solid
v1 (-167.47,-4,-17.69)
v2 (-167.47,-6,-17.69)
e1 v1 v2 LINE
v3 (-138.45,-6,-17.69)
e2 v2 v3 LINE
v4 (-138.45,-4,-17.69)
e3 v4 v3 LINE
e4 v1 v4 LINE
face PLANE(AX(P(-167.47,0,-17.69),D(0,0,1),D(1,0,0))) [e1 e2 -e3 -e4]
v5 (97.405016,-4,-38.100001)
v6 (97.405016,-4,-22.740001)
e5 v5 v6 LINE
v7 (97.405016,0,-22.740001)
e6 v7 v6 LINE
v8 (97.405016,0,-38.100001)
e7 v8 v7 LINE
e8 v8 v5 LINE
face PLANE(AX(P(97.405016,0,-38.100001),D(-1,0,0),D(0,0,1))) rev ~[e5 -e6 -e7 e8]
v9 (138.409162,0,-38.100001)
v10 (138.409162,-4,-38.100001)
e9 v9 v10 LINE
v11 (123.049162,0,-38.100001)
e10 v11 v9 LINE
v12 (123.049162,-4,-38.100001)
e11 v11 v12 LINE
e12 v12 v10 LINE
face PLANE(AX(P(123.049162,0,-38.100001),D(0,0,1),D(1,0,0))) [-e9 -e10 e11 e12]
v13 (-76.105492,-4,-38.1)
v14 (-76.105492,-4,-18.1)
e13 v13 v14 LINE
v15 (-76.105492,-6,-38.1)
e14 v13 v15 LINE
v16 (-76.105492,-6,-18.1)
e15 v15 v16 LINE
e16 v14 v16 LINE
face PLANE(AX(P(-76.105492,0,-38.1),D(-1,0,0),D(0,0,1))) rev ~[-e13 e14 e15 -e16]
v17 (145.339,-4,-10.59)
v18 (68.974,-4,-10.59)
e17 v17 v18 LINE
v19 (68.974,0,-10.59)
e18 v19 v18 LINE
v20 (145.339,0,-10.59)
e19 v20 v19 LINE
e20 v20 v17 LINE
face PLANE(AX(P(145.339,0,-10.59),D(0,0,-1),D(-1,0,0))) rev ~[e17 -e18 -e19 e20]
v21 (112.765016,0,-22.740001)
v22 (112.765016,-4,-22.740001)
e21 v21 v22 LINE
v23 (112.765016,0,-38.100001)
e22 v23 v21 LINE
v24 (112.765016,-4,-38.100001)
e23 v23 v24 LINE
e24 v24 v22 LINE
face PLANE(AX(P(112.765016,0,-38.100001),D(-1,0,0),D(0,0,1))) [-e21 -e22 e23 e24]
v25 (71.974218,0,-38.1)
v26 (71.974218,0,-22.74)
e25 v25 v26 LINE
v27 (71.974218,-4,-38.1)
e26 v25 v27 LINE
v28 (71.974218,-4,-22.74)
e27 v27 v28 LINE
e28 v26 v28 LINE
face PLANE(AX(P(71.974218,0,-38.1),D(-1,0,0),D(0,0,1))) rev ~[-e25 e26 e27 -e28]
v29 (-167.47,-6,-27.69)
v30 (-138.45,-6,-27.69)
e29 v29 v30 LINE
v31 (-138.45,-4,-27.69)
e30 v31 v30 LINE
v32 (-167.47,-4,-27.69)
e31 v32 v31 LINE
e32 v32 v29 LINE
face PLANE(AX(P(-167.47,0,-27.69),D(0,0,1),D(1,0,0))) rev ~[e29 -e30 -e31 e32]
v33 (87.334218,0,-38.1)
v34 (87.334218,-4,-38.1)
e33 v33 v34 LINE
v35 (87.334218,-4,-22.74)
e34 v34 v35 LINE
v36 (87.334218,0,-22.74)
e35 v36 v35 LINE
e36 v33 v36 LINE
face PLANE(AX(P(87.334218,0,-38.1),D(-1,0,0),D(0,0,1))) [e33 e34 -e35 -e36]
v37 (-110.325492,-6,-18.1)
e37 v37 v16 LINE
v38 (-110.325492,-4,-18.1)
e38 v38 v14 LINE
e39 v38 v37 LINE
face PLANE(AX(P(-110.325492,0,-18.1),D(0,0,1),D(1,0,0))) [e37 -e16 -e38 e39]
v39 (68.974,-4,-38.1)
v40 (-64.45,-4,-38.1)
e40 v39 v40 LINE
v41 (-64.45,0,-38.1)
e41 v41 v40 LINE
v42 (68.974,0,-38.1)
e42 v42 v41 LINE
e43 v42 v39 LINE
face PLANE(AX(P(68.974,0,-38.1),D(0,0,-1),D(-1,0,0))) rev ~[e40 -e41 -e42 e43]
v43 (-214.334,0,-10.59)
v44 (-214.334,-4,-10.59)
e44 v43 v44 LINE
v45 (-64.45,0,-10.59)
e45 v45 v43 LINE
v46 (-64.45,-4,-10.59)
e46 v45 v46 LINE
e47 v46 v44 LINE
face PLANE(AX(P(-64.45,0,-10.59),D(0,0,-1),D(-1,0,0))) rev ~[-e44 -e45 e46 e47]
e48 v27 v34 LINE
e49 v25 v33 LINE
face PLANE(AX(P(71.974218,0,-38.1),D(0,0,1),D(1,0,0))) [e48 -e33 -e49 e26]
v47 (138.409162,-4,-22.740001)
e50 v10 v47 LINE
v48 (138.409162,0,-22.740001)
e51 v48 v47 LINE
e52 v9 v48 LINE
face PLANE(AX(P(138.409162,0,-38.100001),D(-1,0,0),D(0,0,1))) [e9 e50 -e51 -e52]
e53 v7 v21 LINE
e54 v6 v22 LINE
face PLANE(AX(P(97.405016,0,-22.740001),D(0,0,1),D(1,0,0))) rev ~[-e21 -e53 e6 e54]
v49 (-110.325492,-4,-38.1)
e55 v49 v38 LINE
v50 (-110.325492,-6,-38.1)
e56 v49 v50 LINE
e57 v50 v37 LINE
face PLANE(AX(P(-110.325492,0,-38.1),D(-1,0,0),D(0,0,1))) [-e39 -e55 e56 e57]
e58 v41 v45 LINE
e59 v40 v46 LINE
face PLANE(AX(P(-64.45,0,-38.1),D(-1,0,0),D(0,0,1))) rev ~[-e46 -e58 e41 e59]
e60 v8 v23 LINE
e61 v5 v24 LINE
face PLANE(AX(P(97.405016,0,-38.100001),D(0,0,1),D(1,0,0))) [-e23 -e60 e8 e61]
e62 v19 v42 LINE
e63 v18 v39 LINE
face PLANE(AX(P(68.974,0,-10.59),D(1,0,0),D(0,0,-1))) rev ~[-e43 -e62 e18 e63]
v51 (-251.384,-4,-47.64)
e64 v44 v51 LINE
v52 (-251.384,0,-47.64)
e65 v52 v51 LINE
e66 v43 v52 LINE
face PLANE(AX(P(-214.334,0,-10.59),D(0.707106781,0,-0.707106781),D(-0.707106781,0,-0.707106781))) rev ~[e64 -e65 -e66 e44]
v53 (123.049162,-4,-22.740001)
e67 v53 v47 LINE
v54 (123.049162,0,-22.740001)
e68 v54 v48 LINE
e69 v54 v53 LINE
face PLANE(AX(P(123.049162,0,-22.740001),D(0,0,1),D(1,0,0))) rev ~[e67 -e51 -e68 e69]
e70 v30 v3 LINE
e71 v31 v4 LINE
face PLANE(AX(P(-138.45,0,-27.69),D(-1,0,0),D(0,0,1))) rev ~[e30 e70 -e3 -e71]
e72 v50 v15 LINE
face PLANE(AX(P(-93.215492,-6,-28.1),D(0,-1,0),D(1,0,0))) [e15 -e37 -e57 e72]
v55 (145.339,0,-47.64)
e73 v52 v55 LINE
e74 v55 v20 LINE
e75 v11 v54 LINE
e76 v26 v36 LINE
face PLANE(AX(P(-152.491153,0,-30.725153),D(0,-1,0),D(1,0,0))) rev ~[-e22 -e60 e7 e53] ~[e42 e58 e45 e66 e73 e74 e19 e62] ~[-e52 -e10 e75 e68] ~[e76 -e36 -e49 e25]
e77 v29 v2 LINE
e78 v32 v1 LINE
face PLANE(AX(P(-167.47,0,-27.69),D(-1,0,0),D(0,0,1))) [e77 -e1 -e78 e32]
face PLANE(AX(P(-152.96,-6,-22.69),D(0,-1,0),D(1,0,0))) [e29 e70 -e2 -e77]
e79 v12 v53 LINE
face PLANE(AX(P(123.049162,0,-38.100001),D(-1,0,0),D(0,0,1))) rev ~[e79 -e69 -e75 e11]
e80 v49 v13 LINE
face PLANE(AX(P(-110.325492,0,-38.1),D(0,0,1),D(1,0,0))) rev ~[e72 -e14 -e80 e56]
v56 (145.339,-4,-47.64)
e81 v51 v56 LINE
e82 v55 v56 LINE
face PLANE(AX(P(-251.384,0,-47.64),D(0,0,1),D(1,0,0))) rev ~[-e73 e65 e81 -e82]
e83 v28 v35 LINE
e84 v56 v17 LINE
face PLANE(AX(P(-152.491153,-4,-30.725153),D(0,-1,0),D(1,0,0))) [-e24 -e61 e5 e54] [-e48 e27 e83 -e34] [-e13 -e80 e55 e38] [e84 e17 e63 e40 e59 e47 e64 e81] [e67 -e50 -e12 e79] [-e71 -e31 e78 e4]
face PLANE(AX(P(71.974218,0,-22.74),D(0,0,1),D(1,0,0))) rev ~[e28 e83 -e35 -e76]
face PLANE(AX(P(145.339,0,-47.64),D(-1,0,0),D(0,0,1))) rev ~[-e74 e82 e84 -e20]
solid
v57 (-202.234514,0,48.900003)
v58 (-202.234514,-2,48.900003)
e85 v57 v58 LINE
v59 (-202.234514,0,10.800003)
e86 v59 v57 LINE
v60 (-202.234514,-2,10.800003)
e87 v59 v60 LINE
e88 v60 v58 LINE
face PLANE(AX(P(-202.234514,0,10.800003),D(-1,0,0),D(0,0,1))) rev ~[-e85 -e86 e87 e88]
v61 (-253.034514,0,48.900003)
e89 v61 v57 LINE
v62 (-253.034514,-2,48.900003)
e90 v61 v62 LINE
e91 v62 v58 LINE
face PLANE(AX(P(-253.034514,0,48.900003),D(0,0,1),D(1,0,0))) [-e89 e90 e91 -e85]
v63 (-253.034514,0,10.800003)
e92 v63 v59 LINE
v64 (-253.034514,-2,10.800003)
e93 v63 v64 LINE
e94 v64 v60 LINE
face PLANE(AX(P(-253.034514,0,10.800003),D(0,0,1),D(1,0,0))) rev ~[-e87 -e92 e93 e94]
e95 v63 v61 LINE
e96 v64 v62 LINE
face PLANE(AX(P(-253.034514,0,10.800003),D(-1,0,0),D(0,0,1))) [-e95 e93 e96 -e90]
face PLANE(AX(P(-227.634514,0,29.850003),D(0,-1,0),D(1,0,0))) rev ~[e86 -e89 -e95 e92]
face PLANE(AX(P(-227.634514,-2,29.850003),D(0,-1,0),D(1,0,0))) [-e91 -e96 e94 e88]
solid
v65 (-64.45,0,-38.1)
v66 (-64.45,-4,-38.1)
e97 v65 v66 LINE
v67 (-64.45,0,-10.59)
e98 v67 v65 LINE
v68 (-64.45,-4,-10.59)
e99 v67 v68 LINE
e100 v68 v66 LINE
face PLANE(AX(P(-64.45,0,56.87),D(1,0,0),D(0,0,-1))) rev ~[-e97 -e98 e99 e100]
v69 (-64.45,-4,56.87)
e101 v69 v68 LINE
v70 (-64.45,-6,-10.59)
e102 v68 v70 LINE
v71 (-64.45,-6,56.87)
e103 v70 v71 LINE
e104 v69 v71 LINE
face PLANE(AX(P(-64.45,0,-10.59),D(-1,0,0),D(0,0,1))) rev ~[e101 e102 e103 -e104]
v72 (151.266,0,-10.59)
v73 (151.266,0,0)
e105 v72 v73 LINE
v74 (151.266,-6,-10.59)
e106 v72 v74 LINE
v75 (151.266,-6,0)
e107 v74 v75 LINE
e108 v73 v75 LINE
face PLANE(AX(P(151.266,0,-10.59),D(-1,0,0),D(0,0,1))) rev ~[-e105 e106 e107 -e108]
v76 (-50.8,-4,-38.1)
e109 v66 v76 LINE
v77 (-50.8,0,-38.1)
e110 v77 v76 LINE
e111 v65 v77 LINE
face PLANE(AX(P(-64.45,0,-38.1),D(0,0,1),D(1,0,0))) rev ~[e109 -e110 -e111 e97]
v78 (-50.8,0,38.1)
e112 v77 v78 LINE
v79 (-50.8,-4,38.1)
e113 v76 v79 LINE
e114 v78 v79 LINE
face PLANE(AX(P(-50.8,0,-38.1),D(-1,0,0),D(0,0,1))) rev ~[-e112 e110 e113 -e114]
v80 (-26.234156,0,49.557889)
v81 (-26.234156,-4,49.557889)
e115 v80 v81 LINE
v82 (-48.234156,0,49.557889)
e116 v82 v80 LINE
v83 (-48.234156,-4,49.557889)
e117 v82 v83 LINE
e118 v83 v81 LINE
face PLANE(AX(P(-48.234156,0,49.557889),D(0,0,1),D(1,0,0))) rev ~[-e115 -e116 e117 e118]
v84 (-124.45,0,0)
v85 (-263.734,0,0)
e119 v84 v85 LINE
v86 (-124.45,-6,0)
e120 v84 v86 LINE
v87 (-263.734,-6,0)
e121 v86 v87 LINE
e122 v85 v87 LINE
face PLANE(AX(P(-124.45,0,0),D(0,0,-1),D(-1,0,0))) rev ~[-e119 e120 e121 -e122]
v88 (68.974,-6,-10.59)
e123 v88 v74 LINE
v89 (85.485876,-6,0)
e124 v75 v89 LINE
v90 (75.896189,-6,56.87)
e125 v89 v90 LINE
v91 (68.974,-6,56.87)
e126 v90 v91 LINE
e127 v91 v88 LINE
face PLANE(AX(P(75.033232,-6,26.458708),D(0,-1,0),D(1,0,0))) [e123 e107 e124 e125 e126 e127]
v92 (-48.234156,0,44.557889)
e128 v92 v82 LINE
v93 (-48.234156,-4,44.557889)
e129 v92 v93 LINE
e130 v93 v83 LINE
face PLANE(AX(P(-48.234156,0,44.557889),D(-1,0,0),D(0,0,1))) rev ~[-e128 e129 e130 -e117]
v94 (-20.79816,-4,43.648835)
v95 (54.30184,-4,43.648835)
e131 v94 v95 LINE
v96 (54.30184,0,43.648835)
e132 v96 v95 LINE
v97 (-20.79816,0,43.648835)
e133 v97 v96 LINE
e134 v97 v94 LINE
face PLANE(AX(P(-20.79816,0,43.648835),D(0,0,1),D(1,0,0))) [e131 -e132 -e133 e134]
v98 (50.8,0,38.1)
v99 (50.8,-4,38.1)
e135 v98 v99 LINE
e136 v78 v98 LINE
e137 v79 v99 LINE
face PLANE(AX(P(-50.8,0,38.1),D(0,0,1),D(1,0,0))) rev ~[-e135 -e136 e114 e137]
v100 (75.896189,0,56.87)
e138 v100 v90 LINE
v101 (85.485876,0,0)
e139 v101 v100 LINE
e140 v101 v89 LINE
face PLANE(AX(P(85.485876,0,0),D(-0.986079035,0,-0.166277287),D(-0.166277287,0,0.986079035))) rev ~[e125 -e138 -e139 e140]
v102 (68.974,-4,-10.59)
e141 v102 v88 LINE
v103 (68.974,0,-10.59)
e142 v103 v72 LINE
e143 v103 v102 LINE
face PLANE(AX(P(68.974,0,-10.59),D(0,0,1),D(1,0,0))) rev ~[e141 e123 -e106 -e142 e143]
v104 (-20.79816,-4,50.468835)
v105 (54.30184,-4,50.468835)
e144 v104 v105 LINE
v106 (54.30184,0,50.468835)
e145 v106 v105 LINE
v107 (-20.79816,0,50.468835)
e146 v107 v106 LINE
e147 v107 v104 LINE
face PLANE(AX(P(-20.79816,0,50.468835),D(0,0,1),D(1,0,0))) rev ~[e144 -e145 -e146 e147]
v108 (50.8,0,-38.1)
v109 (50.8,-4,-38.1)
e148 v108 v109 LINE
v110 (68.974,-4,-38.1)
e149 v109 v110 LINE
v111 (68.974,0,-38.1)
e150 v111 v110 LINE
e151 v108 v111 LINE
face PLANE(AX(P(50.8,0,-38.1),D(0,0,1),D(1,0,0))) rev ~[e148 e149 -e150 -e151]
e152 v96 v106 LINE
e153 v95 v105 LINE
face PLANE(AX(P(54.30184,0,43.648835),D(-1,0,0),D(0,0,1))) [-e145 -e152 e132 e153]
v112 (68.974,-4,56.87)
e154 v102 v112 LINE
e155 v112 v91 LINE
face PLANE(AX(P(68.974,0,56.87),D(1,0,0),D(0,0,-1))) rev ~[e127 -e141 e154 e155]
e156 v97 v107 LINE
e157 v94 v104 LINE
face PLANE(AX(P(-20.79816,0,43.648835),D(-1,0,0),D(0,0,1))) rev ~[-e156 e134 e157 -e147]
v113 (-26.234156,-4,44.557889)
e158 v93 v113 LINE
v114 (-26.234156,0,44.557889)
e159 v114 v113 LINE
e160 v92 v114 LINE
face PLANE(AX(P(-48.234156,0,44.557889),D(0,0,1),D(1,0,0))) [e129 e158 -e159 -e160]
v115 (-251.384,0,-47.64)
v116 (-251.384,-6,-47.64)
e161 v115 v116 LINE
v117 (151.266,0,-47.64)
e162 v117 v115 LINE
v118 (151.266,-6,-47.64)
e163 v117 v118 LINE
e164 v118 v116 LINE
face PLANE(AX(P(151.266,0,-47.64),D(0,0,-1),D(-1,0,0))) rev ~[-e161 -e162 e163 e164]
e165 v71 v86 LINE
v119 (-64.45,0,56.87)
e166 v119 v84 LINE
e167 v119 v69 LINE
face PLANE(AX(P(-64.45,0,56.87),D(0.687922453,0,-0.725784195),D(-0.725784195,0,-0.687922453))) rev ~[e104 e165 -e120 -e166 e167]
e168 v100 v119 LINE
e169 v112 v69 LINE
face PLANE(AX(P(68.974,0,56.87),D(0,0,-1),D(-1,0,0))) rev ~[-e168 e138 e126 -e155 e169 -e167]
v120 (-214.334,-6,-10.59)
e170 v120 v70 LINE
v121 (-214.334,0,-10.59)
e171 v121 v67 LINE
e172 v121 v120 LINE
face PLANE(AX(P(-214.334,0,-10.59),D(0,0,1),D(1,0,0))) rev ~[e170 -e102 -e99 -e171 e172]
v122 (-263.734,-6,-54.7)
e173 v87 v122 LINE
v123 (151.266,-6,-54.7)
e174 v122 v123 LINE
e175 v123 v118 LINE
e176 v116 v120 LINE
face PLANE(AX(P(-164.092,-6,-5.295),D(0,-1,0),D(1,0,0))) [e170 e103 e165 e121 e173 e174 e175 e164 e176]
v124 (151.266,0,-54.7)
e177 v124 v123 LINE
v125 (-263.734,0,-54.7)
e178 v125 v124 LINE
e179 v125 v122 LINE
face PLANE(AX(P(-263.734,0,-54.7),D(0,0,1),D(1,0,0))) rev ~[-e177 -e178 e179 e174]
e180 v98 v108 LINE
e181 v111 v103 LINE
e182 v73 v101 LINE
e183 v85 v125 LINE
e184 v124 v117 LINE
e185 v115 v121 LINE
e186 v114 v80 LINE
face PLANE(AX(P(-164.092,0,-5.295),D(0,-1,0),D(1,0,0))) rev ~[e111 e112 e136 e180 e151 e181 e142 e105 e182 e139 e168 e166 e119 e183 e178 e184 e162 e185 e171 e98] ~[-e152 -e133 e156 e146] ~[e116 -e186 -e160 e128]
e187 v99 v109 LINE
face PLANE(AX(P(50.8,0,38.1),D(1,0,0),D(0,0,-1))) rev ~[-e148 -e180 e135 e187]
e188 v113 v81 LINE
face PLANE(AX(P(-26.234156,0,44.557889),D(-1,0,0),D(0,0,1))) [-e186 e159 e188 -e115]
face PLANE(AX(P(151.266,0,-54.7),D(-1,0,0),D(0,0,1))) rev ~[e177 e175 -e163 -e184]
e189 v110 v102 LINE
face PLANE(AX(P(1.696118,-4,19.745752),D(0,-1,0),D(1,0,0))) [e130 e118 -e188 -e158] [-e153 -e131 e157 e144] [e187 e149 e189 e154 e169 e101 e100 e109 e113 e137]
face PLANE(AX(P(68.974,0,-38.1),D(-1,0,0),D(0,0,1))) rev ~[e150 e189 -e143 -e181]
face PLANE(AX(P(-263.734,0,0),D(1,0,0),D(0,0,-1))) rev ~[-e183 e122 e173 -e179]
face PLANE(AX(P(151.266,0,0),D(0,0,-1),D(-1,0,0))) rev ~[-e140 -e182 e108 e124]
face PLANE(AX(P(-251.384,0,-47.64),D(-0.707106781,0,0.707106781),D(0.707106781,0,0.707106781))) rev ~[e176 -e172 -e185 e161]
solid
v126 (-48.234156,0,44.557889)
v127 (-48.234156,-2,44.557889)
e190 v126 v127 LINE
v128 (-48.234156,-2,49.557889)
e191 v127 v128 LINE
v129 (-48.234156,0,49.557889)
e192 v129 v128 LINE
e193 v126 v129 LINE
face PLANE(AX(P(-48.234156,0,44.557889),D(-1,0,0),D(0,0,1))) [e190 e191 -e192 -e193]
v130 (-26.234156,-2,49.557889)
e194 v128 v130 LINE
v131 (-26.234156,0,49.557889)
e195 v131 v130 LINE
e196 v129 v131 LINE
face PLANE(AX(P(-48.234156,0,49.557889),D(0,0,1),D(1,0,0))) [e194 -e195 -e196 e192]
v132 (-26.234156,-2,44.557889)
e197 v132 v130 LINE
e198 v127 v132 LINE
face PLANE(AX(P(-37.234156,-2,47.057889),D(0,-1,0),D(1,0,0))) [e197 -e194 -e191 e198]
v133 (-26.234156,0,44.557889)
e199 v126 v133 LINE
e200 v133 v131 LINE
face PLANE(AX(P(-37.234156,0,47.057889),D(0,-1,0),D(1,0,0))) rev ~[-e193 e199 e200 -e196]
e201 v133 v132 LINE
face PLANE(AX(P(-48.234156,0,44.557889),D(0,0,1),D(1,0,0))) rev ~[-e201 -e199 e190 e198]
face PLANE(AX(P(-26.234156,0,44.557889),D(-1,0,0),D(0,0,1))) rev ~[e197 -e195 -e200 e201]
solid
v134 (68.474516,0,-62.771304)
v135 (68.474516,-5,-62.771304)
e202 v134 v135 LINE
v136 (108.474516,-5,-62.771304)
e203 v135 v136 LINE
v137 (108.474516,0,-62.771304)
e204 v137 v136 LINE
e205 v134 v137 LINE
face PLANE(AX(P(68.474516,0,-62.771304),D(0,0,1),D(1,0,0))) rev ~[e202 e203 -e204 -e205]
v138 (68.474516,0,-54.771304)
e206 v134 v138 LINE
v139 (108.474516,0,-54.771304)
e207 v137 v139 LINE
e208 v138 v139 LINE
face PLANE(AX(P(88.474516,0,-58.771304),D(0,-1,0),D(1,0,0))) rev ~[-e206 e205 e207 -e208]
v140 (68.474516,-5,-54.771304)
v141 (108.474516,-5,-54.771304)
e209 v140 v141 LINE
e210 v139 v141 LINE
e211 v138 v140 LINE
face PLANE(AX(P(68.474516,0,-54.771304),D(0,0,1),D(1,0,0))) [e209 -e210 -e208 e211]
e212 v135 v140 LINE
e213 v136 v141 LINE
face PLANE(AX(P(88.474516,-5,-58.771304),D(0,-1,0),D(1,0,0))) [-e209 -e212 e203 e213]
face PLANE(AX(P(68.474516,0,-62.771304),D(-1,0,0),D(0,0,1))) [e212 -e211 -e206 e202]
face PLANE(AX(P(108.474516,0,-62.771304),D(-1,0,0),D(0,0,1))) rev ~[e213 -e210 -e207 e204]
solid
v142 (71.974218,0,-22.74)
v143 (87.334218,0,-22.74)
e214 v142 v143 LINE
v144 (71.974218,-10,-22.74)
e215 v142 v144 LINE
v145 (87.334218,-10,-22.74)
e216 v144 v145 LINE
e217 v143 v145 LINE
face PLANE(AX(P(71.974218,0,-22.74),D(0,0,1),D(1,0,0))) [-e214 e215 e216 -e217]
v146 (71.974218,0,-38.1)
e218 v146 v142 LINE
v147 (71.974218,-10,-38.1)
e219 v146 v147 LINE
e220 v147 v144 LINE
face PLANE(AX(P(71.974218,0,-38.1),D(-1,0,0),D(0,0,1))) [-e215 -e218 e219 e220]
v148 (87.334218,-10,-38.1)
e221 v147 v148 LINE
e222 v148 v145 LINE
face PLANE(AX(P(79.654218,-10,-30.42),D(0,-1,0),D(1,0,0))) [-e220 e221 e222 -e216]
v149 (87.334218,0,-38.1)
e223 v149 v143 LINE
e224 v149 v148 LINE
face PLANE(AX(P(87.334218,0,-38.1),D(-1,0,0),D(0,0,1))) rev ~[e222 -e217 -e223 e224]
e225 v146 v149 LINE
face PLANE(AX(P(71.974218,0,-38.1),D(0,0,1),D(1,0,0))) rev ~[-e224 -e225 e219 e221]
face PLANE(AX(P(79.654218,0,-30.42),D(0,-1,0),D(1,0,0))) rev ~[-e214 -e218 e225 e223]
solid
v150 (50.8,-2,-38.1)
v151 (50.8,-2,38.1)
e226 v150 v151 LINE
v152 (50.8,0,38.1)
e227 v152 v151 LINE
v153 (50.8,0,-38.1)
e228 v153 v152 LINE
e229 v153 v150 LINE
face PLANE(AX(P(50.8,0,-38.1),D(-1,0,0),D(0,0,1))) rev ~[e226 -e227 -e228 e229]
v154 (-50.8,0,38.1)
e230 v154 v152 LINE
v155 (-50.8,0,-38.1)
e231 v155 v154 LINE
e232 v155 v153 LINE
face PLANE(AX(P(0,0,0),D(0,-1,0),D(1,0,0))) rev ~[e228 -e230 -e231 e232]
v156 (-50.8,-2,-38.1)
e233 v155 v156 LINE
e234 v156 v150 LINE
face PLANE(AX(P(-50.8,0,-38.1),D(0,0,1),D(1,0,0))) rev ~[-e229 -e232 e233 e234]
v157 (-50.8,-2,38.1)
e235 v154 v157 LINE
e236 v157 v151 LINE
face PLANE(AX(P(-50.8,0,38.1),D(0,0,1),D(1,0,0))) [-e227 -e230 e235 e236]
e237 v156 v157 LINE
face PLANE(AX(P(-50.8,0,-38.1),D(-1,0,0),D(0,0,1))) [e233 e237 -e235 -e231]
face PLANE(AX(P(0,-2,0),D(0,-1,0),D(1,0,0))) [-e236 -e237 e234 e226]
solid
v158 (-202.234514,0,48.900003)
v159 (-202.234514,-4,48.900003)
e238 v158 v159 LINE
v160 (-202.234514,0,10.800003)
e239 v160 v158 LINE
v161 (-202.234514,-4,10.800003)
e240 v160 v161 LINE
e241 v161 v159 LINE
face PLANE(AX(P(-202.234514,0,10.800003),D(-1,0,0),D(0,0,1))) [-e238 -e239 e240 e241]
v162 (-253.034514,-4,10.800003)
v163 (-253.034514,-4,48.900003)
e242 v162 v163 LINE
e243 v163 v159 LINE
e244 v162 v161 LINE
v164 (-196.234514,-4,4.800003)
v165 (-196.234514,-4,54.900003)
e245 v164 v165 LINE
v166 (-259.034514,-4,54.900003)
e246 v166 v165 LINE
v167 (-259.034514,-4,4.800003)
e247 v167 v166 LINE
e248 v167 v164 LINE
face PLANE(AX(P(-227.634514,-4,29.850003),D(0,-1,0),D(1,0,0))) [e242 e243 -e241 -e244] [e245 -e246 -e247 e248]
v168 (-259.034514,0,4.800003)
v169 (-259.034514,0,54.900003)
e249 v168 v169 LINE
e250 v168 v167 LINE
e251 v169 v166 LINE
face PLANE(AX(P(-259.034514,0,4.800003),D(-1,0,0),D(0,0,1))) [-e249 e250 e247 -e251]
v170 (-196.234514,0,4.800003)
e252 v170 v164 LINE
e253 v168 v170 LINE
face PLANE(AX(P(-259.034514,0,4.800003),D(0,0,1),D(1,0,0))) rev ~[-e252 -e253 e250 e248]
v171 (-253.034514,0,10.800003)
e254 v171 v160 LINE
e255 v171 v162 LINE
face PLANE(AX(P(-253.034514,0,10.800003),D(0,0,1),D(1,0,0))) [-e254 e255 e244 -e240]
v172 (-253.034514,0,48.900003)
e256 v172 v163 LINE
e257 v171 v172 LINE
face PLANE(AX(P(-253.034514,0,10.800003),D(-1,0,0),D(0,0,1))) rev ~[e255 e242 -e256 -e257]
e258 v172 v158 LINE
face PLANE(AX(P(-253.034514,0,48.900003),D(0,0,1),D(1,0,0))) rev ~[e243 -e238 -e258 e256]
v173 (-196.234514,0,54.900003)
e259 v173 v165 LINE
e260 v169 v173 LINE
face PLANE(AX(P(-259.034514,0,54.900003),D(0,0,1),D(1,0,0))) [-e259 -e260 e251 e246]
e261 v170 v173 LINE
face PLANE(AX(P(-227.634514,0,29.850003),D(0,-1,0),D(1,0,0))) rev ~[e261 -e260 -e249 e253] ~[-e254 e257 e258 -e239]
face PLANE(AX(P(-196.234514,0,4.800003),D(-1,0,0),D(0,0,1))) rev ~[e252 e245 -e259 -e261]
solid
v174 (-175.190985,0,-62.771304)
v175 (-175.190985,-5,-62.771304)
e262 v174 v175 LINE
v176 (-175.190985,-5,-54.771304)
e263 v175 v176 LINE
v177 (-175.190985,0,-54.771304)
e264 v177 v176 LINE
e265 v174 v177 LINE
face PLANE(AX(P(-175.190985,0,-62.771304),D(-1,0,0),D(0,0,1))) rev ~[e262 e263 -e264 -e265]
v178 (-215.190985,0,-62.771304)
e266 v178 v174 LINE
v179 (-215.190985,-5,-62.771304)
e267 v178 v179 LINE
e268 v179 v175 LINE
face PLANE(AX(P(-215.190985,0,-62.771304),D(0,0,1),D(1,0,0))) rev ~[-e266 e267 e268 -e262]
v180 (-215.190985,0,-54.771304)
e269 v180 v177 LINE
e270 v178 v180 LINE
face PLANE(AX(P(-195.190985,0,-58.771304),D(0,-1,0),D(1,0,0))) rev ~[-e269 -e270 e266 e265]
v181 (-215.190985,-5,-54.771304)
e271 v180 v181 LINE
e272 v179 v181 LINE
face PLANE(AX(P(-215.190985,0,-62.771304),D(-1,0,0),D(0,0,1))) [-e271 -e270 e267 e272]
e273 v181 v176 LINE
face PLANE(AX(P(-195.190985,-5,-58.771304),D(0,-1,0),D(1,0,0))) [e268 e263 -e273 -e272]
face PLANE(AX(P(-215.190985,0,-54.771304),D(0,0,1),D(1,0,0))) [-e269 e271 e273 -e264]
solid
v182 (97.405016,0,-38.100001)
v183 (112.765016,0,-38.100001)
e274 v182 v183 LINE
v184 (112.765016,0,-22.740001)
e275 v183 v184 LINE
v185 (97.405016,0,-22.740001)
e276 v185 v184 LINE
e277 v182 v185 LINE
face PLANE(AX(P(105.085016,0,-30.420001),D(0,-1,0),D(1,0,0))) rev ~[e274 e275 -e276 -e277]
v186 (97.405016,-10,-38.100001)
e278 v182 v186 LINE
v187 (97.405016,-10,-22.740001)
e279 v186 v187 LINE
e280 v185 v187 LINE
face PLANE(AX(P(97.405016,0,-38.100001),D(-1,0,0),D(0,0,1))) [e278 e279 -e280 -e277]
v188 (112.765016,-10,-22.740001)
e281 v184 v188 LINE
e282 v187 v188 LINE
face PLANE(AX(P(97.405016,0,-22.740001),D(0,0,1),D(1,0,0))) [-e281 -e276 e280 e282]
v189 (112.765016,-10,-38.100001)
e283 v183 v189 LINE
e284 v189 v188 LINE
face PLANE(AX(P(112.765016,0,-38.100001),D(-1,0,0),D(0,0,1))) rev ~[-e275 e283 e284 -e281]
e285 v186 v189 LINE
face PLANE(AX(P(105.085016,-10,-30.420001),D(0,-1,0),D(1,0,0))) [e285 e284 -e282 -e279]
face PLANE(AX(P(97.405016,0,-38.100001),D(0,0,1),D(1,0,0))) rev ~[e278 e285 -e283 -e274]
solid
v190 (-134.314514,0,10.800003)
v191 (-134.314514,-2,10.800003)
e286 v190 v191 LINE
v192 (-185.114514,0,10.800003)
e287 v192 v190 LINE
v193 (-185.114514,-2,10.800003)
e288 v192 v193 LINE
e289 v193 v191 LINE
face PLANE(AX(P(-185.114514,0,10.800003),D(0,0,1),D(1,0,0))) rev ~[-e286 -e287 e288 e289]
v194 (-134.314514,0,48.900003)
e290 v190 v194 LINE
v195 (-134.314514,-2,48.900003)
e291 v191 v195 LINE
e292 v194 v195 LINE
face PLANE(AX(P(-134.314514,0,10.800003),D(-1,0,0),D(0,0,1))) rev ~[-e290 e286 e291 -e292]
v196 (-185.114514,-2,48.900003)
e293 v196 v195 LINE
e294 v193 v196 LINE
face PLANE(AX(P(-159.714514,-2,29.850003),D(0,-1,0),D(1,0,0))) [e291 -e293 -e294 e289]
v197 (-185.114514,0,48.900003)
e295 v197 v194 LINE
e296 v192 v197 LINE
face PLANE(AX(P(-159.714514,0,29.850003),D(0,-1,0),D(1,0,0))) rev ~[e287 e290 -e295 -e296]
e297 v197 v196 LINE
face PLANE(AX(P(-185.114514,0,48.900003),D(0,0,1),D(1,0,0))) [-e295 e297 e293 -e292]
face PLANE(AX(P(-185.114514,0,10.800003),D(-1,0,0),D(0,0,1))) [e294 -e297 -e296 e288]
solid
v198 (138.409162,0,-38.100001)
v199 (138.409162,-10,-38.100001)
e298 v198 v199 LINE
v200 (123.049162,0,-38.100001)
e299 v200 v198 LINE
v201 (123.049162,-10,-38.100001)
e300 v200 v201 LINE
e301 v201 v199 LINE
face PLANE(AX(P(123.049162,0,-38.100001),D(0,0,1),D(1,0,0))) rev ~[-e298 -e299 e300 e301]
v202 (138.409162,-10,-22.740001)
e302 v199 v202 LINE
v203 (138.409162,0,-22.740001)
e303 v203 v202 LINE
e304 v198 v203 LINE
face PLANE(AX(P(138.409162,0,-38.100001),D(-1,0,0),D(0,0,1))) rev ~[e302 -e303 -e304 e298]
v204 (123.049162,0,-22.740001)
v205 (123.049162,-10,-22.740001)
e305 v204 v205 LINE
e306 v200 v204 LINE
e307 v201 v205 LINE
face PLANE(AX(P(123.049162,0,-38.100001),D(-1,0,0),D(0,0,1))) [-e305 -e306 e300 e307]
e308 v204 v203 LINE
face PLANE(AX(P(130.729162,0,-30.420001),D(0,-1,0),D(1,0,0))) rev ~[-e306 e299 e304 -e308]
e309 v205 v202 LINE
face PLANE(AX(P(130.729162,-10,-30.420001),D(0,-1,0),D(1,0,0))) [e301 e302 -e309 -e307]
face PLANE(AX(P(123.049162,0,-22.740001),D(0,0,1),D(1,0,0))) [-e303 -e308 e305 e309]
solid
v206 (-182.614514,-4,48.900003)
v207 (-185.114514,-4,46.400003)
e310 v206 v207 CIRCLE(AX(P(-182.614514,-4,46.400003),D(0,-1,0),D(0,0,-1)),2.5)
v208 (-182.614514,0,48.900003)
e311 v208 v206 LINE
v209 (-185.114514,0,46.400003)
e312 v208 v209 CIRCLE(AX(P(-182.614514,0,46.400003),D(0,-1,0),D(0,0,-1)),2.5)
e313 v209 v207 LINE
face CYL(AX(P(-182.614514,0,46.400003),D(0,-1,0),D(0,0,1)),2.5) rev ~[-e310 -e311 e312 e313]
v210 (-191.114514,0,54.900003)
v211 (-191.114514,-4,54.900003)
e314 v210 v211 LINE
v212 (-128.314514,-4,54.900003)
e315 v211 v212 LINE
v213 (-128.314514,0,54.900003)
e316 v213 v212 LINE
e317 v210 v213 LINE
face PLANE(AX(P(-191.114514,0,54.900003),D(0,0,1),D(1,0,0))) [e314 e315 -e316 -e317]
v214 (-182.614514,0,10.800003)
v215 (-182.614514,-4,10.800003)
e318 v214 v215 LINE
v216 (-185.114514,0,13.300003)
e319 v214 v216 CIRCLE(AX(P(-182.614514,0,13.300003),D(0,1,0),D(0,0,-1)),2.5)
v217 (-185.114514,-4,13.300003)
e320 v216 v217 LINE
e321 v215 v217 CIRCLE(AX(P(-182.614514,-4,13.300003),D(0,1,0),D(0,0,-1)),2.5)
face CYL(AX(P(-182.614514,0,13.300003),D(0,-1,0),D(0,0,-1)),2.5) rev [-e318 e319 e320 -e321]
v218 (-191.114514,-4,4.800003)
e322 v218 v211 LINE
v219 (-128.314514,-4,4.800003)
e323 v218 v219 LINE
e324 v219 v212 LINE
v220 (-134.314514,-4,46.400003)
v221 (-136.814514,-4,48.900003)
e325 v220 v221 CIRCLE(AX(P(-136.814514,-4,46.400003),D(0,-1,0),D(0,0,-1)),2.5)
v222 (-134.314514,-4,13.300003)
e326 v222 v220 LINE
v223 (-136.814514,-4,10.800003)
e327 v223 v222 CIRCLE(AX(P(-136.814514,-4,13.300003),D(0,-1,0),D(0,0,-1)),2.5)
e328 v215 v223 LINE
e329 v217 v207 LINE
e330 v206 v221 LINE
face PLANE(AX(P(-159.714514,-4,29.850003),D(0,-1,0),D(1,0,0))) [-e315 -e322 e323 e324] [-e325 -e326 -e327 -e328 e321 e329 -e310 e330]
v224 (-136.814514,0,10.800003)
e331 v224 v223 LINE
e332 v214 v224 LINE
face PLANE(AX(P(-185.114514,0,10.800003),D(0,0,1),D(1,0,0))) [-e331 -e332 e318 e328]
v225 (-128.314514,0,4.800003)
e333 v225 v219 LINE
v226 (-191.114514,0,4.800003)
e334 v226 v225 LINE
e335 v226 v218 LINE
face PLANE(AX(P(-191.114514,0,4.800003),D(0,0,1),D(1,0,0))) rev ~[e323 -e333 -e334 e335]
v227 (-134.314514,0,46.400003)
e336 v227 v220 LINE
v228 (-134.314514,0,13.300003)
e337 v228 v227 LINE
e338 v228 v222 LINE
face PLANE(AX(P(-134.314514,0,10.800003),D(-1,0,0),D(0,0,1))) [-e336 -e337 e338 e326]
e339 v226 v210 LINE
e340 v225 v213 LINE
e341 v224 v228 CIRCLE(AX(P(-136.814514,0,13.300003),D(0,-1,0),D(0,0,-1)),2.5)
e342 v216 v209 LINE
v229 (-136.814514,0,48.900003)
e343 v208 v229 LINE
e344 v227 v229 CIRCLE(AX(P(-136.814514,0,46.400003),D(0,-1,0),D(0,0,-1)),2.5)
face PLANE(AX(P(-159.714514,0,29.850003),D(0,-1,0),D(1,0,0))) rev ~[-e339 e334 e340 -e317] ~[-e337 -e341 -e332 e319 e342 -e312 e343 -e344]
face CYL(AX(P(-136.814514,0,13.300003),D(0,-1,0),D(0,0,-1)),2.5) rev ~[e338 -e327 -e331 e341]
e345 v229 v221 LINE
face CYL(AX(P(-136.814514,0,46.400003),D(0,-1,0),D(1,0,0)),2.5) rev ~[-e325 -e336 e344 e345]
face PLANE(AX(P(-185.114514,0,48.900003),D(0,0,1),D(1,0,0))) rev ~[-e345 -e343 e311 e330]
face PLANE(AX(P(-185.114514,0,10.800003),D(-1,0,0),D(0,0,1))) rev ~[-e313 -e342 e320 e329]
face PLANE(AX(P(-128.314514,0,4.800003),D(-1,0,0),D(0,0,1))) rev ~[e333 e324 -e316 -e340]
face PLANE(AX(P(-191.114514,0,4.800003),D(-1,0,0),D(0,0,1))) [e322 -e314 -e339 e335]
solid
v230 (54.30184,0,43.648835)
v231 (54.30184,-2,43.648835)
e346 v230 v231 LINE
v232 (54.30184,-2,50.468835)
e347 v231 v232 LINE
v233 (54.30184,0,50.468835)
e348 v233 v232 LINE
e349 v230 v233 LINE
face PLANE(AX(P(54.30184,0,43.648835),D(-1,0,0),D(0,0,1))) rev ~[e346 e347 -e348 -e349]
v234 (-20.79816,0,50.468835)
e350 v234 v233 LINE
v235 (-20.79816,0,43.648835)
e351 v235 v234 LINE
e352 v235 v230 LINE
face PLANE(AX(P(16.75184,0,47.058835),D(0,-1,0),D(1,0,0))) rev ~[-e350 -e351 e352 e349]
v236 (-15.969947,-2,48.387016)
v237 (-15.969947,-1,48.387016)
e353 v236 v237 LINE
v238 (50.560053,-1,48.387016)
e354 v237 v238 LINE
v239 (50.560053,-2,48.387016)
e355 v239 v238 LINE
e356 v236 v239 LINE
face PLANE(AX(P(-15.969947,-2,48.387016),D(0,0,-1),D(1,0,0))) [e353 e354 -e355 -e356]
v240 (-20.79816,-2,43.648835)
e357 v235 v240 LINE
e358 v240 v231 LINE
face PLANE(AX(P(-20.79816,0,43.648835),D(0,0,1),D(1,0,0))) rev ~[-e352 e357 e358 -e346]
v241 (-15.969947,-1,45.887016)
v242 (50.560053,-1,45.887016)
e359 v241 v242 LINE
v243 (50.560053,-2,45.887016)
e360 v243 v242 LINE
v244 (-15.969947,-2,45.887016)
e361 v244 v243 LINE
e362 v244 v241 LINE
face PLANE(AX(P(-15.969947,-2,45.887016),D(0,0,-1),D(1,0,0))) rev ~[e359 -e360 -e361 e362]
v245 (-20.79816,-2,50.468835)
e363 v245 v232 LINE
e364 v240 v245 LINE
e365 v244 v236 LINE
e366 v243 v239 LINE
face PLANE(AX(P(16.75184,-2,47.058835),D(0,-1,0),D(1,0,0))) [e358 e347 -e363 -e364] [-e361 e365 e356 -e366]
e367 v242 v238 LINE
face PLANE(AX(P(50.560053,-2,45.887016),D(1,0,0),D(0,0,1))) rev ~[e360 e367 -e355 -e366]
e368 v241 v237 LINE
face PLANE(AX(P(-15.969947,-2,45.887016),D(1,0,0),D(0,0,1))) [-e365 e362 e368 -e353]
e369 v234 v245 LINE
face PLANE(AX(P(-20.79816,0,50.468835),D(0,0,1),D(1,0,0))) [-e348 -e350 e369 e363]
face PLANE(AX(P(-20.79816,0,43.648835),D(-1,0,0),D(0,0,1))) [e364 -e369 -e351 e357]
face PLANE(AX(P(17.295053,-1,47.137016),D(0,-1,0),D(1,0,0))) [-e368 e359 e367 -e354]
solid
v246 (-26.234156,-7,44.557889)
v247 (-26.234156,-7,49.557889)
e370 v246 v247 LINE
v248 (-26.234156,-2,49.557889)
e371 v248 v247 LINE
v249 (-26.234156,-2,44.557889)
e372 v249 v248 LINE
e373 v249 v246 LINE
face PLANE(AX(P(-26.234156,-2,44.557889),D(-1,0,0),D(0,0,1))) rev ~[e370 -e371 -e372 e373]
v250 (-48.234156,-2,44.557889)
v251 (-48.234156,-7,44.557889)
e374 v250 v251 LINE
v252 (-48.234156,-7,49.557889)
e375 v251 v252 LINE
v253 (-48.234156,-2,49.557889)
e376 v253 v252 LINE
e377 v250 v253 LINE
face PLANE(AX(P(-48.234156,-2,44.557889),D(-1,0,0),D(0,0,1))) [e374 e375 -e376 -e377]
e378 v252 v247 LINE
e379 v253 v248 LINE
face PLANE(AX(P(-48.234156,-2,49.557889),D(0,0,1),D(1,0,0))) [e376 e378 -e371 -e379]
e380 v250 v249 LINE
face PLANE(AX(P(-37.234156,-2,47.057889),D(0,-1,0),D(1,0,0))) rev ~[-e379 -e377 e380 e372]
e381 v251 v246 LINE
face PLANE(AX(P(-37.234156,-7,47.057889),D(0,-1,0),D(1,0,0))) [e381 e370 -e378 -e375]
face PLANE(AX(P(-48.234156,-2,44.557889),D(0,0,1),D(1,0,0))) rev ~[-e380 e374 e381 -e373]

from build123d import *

# Parameters (mm, degrees)
F0_W      = 15.36
F0_H      = 15.36
F1_DEPTH  = 10
F0_W_2    = 50.8
F0_H_2    = 38.1
F0_W_3    = 101.6
F0_H_3    = 76.2
F0_W_4    = 75.1
F0_H_4    = 6.82
F0_W_5    = 22
F0_H_5    = 5
F2_DEPTH  = 2
F3_W      = 66.53
F3_H      = 2.5
F4_DEPTH  = 1
F5_DEPTH  = 4
F6_DEPTH  = 5
F0_W_6    = 62.8
F0_H_6    = 50.1
F7_DEPTH  = 4
F8_R      = 2.5
F9_DEPTH  = 6
F0_W_7    = 34.22
F0_H_7    = 20
F0_W_8    = 29.02
F0_H_8    = 10
F10_DEPTH = 4
F11_DEPTH = 6
F12_W     = 40
F12_H     = 8
F13_DEPTH = 5


with BuildPart() as f1:
    # F0 (on Front) → F1 (new body)
    with BuildSketch(Plane.XZ):
        with Locations((130.7291623282, -30.4200009418)):
            Rectangle(F0_W, F0_H)
        with Locations((105.0850164223, -30.4200009418)):
            Rectangle(F0_W, F0_H)
        with Locations((79.6542178917, -30.4200004709)):
            Rectangle(F0_W, F0_H)
    extrude(amount=F1_DEPTH)


with BuildPart() as f2:
    # F0 (on Front) → F2 (new body)
    with BuildSketch(Plane.XZ):
        with Locations((-227.6345144272, 29.8500025563)):
            Rectangle(F0_W_2, F0_H_2)
        with Locations((-159.7145144272, 29.8500025563)):
            Rectangle(F0_W_2, F0_H_2)
        Rectangle(F0_W_3, F0_H_3)
        with Locations((16.7518402368, 47.0588352716)):
            Rectangle(F0_W_4, F0_H_4)
        with Locations((-37.2341555208, 47.0578887403)):
            Rectangle(F0_W_5, F0_H_5)
    extrude(amount=F2_DEPTH)

    # F3 (on face) → F4 (cut)
    with BuildSketch(Plane.XZ.offset(2)):
        with Locations((17.2950534379, 47.1370157599)):
            Rectangle(F3_W, F3_H)
    extrude(amount=-F4_DEPTH, mode=Mode.SUBTRACT)


with BuildPart() as f5:
    # F0 (on Front) → F5 (new body)
    with BuildSketch(Plane.XZ):
        Polygon((-50.8, -38.1), (-50.8, 38.1), (50.8, 38.1), (50.8, -38.1), (68.974, -38.1), (68.974, -10.59), (68.974, 0), (68.974, 56.87), (-64.45, 56.87), (-64.45, 0), (-64.45, -10.59), (-64.45, -38.1), align=None)
        with Locations((-37.2341555208, 47.0578887403)):
            Rectangle(F0_W_5, F0_H_5, mode=Mode.SUBTRACT)
        with Locations((16.7518402368, 47.0588352716)):
            Rectangle(F0_W_4, F0_H_4, mode=Mode.SUBTRACT)
    extrude(amount=F5_DEPTH)

    # F0 (on Front) → F9 (join)
    with BuildSketch(Plane.XZ):
        Polygon((-214.334, -10.59), (-64.45, -10.59), (-64.45, 0), (-124.45, 0), (-263.734, 0), (-263.734, -10.59), align=None)
        Polygon((-251.384, -47.64), (-214.334, -10.59), (-263.734, -10.59), (-263.734, -47.64), align=None)
        Polygon((-124.45, 0), (-64.45, 0), (-64.45, 56.87), align=None)
        Polygon((68.974, -47.64), (-64.45, -47.64), (-251.384, -47.64), (-263.734, -47.64), (-263.734, -54.7), (151.266, -54.7), (151.266, -47.64), (145.339, -47.64), align=None)
        Polygon((68.974, 56.87), (68.974, 0), (85.4858756065, 0), (75.8961886168, 56.87), align=None)
        Polygon((68.974, 0), (68.974, -10.59), (145.339, -10.59), (151.266, -10.59), (151.266, 0), (85.4858756065, 0), align=None)
    extrude(amount=F9_DEPTH)


with BuildPart() as f6:
    # F6 (new): a face of the model
    f6_faces = [f2.part.faces().sort_by_distance(p)[0] for p in [
        (-37.2341555208, -2, 47.0578887403),
    ]]
    extrude(f6_faces, amount=F6_DEPTH)


with BuildPart() as f7:
    # F0 (on Front) → F7 (new body)
    with BuildSketch(Plane.XZ):
        with Locations((-227.6345144272, 29.8500025563)):
            Rectangle(F0_W_6, F0_H_6)
        with Locations((-227.6345144272, 29.8500025563)):
            Rectangle(F0_W_2, F0_H_2, mode=Mode.SUBTRACT)
        with Locations((-159.7145144272, 29.8500025563)):
            Rectangle(F0_W_6, F0_H_6)
        with Locations((-159.7145144272, 29.8500025563)):
            Rectangle(F0_W_2, F0_H_2, mode=Mode.SUBTRACT)
    extrude(amount=F7_DEPTH)

    # F8
    f8_edges = [f7.edges().sort_by_distance(p)[0] for p in [
        (-134.314514, -2, 48.900003),
        (-185.114514, -2, 48.900003),
        (-134.314514, -2, 10.800003),
        (-185.114514, -2, 10.800003),
    ]]
    fillet(f8_edges, radius=F8_R)


with BuildPart() as f10:
    # F0 (on Front) → F10 (new body)
    with BuildSketch(Plane.XZ):
        Polygon((-64.45, -47.64), (-64.45, -38.1), (-64.45, -10.59), (-214.334, -10.59), (-251.384, -47.64), align=None)
        with Locations((-93.215491517, -28.1000004709)):
            Rectangle(F0_W_7, F0_H_7, mode=Mode.SUBTRACT)
        with Locations((-152.96, -22.69)):
            Rectangle(F0_W_8, F0_H_8, mode=Mode.SUBTRACT)
        Polygon((50.8, -38.1), (-50.8, -38.1), (-64.45, -38.1), (-64.45, -47.64), (68.974, -47.64), (68.974, -38.1), align=None)
        Polygon((68.974, -10.59), (68.974, -38.1), (68.974, -47.64), (145.339, -47.64), (145.339, -10.59), align=None)
        with Locations((79.6542178917, -30.4200004709)):
            Rectangle(F0_W, F0_H, mode=Mode.SUBTRACT)
        with Locations((105.0850164223, -30.4200009418)):
            Rectangle(F0_W, F0_H, mode=Mode.SUBTRACT)
        with Locations((130.7291623282, -30.4200009418)):
            Rectangle(F0_W, F0_H, mode=Mode.SUBTRACT)
    extrude(amount=F10_DEPTH)

    # F0 (on Front) → F11 (join)
    with BuildSketch(Plane.XZ):
        with Locations((-152.96, -22.69)):
            Rectangle(F0_W_8, F0_H_8)
        with Locations((-93.215491517, -28.1000004709)):
            Rectangle(F0_W_7, F0_H_7)
    extrude(amount=F11_DEPTH)


with BuildPart() as f13:
    # F12 (on Front) → F13 (new body)
    with BuildSketch(Plane.XZ):
        with Locations((-195.1909852028, -58.7713040709)):
            Rectangle(F12_W, F12_H)
        with Locations((88.4745162725, -58.7713040709)):
            Rectangle(F12_W, F12_H)
    extrude(amount=F13_DEPTH)


solid = Compound([f1.part, f2.part, f5.part, f6.part, f7.part, f10.part, f13.part])
